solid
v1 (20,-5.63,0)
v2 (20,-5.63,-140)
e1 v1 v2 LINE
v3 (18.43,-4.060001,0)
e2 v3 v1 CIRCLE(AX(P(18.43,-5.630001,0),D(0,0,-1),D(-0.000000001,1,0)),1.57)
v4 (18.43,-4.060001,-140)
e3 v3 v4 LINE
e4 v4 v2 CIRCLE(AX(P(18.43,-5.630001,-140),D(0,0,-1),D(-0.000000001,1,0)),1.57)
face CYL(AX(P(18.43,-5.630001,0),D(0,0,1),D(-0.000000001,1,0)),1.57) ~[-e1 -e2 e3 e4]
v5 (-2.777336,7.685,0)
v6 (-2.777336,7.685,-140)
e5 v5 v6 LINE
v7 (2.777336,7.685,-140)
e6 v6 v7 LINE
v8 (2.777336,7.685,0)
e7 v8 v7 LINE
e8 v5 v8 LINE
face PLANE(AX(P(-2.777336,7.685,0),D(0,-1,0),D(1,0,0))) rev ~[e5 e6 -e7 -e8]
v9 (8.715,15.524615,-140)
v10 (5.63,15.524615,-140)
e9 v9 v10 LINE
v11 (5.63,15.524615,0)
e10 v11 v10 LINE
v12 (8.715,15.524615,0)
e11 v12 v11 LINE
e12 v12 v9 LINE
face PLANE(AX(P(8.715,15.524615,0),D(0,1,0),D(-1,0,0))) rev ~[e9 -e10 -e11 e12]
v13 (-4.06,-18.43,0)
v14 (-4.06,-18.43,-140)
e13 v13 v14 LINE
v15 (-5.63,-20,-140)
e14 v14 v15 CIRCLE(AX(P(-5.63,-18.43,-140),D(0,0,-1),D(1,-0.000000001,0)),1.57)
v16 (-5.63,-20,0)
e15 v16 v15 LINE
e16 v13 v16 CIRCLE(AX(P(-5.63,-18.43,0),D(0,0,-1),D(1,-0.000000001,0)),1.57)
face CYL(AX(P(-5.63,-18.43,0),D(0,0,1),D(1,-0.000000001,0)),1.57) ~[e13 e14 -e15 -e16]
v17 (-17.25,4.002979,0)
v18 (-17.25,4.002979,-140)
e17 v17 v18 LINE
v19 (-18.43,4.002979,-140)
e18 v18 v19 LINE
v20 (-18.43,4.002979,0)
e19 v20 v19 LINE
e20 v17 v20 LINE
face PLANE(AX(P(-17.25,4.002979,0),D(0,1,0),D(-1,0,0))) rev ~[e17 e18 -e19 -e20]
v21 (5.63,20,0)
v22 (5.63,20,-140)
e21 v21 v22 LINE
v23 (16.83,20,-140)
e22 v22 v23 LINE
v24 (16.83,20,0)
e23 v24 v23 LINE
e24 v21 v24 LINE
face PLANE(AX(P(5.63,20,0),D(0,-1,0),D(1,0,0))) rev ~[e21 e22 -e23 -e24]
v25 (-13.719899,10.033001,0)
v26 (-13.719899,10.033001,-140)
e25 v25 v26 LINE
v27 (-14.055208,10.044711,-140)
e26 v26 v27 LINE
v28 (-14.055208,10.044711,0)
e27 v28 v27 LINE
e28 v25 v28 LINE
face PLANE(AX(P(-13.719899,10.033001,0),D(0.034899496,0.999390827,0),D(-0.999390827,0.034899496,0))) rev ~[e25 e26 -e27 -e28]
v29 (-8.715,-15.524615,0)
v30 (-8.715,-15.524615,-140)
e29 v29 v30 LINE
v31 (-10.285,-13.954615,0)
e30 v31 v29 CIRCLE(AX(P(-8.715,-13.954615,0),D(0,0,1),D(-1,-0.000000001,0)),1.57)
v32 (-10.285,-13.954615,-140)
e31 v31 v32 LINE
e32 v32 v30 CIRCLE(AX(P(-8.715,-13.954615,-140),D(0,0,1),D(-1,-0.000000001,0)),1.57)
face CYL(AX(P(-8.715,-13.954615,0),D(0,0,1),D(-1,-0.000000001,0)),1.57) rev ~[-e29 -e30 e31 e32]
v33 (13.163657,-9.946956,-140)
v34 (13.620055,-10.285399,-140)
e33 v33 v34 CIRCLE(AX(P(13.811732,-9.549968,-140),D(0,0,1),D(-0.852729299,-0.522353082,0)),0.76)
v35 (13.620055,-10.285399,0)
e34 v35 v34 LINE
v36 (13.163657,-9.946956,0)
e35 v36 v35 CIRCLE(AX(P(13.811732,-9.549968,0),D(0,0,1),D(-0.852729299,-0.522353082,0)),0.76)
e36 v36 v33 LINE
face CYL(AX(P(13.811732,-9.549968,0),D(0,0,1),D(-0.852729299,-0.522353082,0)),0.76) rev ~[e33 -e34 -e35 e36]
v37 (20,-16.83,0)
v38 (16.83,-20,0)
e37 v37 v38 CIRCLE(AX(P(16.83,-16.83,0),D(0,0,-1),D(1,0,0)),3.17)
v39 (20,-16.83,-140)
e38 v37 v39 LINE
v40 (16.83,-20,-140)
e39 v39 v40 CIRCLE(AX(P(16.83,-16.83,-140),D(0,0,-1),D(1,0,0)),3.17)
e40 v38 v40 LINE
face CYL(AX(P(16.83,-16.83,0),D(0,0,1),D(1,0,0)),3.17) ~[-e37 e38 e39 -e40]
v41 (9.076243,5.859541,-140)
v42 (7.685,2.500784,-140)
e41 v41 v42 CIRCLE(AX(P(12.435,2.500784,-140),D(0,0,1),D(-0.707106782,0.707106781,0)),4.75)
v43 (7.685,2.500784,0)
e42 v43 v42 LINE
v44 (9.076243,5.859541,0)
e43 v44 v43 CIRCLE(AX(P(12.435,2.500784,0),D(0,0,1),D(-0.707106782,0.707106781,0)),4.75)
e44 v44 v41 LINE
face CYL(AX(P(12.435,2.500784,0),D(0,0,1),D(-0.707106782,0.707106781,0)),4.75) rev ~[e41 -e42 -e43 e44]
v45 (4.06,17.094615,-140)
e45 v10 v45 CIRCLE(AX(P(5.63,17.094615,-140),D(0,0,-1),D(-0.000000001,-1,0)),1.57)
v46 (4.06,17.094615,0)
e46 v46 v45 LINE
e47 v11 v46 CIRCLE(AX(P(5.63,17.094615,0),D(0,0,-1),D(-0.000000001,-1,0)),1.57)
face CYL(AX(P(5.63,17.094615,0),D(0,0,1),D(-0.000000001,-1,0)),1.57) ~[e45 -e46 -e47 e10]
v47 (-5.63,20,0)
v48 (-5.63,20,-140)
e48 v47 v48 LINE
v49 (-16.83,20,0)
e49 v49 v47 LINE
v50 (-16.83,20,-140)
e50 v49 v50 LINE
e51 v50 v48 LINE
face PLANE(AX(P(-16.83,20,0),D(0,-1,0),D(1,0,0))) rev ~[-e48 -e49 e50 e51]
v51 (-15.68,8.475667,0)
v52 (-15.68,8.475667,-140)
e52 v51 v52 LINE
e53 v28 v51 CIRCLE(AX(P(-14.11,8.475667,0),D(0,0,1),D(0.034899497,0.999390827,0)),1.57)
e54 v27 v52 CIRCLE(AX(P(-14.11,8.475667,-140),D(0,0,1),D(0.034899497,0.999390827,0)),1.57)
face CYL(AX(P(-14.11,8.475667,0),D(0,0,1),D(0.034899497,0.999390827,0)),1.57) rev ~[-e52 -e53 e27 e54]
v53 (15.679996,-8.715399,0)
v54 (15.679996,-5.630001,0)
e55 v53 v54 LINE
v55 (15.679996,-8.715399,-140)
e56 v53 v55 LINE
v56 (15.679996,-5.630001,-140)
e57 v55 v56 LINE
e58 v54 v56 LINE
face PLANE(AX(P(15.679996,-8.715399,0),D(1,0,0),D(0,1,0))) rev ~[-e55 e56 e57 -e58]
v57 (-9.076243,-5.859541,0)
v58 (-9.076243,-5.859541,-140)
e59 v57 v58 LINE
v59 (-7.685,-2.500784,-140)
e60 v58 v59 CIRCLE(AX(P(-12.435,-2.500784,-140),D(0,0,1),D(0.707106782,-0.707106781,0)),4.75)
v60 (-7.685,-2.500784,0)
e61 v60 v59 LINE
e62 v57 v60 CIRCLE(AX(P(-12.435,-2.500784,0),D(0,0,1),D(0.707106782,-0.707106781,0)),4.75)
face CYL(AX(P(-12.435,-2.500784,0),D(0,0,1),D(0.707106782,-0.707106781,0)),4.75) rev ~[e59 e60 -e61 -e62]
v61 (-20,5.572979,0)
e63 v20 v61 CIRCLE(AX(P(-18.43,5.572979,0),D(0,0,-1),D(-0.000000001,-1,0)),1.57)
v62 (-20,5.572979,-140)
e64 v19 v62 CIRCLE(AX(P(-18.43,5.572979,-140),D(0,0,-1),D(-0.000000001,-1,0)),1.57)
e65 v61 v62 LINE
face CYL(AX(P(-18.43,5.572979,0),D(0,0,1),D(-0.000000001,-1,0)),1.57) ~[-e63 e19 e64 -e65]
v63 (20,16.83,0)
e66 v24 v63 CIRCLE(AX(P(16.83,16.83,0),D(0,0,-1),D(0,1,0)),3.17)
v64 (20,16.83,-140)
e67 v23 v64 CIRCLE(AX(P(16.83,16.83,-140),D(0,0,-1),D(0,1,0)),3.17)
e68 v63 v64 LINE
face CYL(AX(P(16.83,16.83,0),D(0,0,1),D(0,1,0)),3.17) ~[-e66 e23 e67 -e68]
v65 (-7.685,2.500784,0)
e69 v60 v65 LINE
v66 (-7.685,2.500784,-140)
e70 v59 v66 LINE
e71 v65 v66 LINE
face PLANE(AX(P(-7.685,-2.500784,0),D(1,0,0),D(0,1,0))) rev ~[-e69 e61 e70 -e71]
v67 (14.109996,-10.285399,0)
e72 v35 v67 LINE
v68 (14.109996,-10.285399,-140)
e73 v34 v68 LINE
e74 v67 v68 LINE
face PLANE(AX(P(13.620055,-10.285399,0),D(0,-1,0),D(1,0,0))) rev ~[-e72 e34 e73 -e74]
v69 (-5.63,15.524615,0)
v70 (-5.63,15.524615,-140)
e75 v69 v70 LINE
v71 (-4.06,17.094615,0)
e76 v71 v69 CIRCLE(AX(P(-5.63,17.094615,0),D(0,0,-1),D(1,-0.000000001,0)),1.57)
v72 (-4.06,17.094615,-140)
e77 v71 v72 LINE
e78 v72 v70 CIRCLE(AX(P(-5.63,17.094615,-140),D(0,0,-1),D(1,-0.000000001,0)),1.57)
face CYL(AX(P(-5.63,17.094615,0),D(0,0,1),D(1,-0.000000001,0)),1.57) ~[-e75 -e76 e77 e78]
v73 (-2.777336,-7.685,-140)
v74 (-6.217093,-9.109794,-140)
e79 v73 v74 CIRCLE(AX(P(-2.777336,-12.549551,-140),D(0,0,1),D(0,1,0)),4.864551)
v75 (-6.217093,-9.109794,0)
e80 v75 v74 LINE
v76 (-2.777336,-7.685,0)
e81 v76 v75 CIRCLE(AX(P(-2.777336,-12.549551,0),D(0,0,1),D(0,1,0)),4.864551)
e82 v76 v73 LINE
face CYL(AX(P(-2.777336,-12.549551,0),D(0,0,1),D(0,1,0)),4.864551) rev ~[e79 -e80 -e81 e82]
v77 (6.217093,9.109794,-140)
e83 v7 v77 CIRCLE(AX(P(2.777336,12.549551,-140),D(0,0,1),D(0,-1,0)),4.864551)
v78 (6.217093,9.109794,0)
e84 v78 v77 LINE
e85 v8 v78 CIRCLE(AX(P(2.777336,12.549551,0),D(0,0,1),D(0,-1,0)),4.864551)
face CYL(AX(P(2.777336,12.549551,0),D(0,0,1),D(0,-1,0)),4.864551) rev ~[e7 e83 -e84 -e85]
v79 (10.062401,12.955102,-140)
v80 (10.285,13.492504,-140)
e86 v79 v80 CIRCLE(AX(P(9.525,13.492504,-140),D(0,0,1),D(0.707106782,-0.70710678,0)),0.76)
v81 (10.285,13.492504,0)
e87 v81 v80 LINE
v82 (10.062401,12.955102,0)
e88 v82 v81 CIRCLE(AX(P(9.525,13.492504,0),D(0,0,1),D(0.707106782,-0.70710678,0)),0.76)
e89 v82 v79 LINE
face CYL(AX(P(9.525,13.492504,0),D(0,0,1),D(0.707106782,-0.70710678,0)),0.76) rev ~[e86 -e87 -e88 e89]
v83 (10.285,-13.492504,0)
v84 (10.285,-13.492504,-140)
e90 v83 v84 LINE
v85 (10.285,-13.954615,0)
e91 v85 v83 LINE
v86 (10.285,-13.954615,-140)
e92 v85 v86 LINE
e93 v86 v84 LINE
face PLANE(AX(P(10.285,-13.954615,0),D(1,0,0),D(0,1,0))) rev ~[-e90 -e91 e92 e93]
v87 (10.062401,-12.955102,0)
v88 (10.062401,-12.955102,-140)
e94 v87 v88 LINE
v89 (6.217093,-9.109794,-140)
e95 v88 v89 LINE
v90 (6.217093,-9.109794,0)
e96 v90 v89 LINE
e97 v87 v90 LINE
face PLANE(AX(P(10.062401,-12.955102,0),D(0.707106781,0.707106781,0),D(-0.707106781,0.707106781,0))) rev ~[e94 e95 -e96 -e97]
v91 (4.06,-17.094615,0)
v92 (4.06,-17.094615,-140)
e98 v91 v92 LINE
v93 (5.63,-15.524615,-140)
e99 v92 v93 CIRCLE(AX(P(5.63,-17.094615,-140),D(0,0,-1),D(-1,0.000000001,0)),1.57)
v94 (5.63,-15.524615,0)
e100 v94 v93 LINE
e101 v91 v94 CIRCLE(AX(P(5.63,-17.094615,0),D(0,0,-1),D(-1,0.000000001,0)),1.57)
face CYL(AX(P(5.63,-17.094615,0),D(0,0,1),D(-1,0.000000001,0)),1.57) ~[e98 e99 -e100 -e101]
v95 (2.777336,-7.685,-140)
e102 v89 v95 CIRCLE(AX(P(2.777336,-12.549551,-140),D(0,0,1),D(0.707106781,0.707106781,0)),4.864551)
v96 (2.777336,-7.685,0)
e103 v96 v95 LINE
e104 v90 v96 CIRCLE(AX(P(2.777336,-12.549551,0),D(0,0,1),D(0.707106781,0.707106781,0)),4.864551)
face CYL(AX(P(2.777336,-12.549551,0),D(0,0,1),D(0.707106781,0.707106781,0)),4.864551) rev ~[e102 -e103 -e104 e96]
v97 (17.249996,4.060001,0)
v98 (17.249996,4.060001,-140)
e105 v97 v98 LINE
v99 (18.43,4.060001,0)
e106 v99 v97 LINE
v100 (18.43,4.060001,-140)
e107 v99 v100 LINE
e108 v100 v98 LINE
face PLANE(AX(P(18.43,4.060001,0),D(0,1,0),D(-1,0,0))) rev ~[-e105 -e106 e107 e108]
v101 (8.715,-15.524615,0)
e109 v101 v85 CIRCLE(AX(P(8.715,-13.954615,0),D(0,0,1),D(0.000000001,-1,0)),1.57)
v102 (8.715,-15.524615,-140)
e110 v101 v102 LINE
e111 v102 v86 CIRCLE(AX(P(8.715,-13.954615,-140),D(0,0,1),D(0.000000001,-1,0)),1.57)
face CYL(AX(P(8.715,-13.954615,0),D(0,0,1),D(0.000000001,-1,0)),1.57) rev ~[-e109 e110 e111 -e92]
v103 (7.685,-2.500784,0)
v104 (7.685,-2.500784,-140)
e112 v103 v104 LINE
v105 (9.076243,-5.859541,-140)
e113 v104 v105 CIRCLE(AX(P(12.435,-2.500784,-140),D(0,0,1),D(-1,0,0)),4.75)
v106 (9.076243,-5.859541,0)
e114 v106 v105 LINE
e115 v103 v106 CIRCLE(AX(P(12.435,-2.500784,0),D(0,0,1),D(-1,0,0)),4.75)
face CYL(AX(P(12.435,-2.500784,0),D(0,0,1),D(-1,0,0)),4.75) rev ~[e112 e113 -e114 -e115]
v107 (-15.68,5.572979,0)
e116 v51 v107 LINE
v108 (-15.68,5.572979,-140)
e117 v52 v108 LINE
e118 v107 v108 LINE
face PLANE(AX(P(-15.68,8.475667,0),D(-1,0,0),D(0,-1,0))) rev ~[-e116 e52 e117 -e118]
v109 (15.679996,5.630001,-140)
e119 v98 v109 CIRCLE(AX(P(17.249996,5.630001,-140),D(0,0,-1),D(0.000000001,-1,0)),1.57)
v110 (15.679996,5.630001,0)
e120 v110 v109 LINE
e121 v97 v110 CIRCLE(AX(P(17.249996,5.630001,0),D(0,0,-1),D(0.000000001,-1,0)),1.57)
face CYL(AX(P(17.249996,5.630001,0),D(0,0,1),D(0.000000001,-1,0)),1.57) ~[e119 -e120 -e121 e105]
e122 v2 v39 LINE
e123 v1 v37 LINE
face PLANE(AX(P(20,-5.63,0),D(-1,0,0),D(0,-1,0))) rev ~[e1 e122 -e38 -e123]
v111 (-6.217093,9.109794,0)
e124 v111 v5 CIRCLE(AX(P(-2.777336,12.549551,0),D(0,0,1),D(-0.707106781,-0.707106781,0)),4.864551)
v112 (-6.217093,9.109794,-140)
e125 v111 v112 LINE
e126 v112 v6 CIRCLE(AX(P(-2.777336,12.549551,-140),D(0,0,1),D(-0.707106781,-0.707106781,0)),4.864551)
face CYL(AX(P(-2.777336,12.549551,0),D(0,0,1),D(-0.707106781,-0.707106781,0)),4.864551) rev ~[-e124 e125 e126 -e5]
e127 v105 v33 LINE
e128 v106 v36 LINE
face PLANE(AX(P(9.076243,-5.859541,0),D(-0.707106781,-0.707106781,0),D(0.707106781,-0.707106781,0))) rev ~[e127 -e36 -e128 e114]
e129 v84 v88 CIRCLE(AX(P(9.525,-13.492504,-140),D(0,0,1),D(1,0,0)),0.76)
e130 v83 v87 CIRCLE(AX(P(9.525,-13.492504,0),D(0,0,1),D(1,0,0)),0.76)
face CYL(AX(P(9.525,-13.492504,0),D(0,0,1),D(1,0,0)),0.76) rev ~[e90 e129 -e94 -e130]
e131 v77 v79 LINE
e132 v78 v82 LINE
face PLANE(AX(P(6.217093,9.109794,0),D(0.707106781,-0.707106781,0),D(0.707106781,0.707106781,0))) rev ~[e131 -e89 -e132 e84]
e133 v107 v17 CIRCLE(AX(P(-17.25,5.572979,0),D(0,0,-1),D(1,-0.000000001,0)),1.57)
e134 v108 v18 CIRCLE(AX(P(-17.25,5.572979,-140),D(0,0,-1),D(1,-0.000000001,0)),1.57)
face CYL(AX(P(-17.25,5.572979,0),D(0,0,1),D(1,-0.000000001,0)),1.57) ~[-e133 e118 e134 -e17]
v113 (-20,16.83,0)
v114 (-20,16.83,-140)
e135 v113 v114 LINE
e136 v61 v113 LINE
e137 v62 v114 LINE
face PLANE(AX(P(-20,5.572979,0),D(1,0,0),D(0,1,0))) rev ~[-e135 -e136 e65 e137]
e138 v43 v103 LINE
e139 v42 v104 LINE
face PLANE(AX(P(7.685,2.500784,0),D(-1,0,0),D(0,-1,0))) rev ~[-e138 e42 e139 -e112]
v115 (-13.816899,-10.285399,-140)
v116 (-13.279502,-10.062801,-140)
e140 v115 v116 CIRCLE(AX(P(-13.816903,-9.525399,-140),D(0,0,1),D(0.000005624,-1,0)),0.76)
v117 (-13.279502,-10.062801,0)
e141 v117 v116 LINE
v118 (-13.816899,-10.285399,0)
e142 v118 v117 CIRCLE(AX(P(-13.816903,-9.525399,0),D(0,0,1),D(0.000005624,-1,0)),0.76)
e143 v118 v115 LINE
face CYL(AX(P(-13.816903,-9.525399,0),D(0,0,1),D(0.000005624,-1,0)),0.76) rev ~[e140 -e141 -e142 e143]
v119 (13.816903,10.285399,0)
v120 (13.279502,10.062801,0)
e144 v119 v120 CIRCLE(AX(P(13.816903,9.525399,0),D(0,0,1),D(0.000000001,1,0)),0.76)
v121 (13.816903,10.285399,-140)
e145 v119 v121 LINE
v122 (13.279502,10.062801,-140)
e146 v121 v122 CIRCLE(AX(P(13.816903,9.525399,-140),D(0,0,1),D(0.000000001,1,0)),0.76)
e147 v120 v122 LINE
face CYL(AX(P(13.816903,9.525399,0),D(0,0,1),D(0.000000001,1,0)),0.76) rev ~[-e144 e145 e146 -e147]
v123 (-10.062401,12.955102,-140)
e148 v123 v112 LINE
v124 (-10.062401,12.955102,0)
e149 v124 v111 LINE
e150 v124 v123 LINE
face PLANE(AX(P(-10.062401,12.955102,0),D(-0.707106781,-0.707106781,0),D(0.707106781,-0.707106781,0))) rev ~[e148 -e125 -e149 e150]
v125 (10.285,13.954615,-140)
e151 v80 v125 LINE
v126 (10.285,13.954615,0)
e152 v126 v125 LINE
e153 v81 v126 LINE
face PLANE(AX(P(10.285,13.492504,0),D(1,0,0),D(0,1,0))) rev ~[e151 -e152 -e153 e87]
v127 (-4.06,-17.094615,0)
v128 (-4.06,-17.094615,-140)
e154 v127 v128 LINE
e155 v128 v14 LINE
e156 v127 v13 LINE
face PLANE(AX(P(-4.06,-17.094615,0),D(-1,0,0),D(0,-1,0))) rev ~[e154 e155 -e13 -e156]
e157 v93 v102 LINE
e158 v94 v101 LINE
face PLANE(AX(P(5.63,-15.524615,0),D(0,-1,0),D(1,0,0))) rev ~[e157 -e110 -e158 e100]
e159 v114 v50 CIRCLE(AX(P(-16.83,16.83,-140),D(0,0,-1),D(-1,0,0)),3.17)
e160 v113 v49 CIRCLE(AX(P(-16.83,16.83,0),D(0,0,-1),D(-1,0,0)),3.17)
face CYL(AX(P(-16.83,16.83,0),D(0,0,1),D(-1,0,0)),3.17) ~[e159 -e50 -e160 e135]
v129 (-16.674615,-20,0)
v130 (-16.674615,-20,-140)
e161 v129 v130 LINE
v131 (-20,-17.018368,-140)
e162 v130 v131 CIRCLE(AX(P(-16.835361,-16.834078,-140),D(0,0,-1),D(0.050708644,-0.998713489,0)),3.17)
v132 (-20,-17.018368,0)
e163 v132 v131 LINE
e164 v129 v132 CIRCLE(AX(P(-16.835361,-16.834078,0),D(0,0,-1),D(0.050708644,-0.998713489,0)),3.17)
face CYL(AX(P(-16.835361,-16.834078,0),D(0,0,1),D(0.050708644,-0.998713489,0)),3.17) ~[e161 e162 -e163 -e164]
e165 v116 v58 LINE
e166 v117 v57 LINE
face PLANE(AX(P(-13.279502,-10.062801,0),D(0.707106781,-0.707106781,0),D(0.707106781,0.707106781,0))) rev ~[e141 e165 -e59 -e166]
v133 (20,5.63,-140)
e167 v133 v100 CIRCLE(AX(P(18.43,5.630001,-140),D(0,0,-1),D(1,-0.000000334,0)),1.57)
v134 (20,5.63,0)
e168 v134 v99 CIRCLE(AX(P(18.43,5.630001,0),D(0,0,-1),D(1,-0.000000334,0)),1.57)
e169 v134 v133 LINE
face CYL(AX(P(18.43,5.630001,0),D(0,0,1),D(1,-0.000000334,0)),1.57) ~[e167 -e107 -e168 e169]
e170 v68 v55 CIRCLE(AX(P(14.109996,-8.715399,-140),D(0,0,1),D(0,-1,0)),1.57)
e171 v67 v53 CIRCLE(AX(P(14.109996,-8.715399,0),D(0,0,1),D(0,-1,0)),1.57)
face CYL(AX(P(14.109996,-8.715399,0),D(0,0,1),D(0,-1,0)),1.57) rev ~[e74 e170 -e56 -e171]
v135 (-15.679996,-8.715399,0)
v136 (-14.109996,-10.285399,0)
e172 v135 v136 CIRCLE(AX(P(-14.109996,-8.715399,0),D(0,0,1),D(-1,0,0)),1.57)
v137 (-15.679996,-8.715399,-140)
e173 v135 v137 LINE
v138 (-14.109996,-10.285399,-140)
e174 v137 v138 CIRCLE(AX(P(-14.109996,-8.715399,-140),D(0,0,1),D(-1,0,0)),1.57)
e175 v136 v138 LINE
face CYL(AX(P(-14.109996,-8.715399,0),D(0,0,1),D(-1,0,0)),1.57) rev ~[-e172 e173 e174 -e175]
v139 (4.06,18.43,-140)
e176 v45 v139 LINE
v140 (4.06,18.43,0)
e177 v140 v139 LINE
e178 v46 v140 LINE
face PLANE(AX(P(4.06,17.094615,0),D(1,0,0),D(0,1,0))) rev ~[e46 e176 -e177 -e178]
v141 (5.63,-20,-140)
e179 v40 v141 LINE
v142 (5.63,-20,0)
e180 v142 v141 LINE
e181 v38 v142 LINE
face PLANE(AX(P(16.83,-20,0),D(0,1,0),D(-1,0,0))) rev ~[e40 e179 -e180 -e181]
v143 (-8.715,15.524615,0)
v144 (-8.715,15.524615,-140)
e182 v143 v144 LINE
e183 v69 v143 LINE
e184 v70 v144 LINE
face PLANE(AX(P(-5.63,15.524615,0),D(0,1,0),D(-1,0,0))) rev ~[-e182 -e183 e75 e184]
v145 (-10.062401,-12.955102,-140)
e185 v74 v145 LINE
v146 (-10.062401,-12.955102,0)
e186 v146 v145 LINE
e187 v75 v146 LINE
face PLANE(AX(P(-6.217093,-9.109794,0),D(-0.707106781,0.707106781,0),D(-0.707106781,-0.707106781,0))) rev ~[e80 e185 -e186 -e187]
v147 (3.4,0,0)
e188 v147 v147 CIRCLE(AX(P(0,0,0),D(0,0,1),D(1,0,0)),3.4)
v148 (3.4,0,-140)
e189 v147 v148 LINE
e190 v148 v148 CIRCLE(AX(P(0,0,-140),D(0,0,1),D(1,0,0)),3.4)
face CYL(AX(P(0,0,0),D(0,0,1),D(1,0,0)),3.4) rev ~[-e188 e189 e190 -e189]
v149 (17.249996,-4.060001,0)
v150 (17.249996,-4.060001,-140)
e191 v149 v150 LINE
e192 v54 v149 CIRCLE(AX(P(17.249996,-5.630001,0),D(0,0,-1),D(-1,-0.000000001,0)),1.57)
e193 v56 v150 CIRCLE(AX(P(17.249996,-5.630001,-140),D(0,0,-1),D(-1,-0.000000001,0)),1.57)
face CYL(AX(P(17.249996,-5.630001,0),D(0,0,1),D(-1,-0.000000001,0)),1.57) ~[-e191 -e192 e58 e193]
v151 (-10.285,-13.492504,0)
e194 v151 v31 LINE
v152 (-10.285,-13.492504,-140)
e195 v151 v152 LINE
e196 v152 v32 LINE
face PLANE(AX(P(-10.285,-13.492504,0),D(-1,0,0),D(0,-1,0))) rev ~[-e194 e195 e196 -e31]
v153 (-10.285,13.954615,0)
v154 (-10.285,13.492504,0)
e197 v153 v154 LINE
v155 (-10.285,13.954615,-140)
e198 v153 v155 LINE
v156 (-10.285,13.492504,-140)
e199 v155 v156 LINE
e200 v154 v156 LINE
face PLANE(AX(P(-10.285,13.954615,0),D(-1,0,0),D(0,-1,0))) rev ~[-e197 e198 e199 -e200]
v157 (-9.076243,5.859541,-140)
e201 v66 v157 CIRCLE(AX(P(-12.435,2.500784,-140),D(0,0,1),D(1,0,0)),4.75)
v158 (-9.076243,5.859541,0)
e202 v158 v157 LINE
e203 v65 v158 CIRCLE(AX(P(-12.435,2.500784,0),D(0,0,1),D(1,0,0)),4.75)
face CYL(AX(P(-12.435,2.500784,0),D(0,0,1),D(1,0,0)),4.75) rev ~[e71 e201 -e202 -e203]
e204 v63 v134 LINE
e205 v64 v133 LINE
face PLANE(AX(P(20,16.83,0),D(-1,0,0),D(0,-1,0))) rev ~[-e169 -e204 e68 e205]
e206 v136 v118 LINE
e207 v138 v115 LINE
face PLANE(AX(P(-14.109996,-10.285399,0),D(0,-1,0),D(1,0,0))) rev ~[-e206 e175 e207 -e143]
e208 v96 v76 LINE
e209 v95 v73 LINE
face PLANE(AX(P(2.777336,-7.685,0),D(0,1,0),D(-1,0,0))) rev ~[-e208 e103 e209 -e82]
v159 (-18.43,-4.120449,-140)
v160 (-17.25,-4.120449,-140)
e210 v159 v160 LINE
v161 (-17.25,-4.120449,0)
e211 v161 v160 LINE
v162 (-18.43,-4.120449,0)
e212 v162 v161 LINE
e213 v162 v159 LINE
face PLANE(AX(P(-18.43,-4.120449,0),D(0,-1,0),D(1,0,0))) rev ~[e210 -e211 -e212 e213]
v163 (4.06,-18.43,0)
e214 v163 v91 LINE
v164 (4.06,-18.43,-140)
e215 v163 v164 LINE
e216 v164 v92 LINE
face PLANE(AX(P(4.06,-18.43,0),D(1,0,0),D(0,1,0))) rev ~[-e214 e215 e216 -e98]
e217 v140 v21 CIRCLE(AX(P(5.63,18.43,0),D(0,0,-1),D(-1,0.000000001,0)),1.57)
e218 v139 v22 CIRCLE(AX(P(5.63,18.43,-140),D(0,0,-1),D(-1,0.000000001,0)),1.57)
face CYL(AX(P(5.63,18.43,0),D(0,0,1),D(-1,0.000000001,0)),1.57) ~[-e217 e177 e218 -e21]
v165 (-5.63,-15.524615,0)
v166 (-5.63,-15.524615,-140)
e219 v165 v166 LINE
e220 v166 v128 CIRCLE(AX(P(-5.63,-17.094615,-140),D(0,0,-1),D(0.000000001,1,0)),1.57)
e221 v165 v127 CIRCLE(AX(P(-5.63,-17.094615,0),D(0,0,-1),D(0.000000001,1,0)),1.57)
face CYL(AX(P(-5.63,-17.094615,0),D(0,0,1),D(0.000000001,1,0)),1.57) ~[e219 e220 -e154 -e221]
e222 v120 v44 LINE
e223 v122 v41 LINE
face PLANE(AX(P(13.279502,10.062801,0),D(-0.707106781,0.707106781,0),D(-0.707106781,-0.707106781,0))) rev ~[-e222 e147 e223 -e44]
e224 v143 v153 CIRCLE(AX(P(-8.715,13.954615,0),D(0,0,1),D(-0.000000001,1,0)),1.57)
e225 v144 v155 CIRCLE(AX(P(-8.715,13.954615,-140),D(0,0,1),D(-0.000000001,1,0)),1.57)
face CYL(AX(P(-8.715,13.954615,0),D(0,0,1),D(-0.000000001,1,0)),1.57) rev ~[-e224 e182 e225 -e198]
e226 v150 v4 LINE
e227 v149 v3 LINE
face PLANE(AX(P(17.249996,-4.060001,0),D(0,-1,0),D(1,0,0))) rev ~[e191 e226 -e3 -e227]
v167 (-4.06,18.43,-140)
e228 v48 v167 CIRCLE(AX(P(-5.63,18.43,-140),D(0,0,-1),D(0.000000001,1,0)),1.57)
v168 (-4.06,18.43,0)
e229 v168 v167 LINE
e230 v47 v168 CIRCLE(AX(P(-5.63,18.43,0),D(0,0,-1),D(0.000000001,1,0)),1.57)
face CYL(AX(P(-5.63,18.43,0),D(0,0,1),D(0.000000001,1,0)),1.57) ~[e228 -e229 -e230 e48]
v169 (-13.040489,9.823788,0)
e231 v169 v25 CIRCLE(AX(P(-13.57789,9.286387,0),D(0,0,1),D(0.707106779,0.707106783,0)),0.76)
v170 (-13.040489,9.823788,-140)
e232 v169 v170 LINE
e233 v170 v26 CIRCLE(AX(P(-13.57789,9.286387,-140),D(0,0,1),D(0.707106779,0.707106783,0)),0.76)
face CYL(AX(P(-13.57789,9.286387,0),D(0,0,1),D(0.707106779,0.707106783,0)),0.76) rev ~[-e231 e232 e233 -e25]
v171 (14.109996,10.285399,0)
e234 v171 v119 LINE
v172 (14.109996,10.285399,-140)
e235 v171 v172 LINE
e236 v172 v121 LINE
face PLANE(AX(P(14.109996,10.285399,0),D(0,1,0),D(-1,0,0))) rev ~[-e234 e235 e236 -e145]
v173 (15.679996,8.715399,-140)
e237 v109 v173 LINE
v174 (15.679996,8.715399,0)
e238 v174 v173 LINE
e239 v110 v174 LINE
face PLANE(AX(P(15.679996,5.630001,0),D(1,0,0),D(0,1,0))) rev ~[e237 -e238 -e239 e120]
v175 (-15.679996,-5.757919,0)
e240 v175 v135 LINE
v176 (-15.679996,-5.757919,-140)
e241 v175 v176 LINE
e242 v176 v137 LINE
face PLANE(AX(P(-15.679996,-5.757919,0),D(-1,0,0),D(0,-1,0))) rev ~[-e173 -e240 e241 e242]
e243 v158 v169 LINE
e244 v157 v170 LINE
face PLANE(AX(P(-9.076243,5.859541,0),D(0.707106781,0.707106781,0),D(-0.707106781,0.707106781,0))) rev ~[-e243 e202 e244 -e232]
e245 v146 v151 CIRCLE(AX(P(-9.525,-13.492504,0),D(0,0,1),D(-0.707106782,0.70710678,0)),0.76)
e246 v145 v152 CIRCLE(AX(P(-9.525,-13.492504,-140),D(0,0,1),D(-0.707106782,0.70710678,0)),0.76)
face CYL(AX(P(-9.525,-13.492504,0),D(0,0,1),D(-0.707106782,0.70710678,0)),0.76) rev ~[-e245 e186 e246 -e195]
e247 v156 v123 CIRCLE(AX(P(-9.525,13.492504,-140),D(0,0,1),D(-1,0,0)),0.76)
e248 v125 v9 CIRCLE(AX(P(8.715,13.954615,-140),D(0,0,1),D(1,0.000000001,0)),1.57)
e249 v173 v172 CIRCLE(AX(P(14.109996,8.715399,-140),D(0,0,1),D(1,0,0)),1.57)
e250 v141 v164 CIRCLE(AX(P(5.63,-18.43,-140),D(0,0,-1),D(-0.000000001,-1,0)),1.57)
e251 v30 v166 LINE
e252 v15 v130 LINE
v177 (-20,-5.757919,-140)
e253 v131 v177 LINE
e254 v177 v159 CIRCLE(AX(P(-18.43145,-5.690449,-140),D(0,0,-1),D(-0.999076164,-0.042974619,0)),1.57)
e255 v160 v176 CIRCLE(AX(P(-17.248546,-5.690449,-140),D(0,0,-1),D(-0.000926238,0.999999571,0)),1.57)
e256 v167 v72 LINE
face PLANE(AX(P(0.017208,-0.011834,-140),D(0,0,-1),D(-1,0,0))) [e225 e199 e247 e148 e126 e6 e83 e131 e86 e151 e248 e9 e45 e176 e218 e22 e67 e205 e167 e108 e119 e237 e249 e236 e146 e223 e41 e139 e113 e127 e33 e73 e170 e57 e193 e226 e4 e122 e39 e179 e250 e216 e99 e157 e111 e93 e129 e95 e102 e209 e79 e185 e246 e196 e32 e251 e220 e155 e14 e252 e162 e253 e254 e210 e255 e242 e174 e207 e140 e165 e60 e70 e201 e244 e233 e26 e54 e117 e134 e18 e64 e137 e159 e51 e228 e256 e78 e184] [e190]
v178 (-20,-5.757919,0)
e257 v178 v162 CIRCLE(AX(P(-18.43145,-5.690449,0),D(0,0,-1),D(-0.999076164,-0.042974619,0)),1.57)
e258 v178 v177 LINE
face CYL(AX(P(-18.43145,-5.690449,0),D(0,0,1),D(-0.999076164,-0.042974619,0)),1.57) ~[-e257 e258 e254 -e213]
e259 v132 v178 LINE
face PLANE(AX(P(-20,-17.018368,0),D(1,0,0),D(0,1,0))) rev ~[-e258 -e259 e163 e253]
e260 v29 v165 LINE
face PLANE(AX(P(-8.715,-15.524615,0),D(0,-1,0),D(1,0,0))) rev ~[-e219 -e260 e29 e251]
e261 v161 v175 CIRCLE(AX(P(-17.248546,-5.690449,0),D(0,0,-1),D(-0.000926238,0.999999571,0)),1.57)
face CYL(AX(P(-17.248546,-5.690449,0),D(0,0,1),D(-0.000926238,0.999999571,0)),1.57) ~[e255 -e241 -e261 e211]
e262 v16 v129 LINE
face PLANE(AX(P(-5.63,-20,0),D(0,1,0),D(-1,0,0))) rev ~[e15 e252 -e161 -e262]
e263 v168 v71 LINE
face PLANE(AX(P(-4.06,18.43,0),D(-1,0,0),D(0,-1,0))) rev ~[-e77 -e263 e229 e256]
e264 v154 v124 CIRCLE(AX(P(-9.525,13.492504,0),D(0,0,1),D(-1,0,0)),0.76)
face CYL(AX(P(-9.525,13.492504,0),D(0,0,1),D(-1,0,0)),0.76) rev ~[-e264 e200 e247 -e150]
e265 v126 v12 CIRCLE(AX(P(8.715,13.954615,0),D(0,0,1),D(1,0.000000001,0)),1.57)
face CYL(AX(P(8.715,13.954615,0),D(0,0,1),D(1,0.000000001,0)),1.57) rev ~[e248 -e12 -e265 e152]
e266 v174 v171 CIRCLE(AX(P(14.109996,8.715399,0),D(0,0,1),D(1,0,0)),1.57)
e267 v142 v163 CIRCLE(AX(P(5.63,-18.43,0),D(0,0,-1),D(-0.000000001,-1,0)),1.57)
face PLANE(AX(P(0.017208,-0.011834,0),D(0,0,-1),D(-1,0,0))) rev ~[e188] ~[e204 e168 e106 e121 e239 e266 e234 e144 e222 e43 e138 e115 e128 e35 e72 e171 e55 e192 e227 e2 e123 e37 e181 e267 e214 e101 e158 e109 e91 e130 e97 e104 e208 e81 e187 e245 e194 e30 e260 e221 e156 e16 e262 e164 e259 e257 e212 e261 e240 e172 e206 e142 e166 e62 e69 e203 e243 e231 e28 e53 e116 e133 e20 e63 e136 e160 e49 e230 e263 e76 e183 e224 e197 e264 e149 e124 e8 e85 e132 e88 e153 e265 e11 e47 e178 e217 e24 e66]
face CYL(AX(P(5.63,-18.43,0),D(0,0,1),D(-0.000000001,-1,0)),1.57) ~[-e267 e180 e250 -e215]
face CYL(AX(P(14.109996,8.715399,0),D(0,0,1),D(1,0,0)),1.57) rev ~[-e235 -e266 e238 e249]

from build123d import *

# Parameters (mm, degrees)
SKETCH1_R      = 3.4
EXTRUDE1_DEPTH = 140


with BuildPart() as part:
    # Sketch1 → Extrude1 (new body)
    with BuildSketch(Plane.XY):
        with BuildLine():
            Line((-8.715, -15.524615034), (-5.63, -15.524615034))
            ThreePointArc((-5.63, -15.524615034), (-4.519842354, -15.984457388), (-4.06, -17.094615034))
            Line((-4.06, -17.094615034), (-4.06, -18.43))
            ThreePointArc((-4.06, -18.43), (-4.519842354, -19.540157646), (-5.63, -20))
            Line((-5.63, -20), (-16.674615034, -20))
            ThreePointArc((-16.674615034, -20), (-18.951578385, -19.194274381), (-20, -17.018368134))
            Line((-20, -17.018368134), (-20, -5.757918808))
            ThreePointArc((-20, -5.757918808), (-19.564709668, -4.603883664), (-18.43, -4.120449326))
            Line((-18.43, -4.120449326), (-17.25, -4.120449326))
            ThreePointArc((-17.25, -4.120449326), (-16.115287682, -4.60388249), (-15.67999625, -5.757919334))
            Line((-15.67999625, -5.757919334), (-15.67999625, -8.715399492))
            ThreePointArc((-15.67999625, -8.715399492), (-15.220153896, -9.825557139), (-14.10999625, -10.285399492))
            Line((-14.10999625, -10.285399492), (-13.816898819, -10.285399492))
            ThreePointArc((-13.816898819, -10.285399492), (-13.526061711, -10.227547119), (-13.279501941, -10.062800646))
            Line((-13.279501941, -10.062800646), (-9.076242789, -5.859541495))
            ThreePointArc((-9.076242789, -5.859541495), (-8.046572221, -4.318530588), (-7.685, -2.500784284))
            Line((-7.685, -2.500784284), (-7.685, 2.500784284))
            ThreePointArc((-7.685, 2.500784284), (-8.046572221, 4.318530588), (-9.076242789, 5.859541495))
            Line((-9.076242789, 5.859541495), (-13.040489136, 9.823787841))
            ThreePointArc((-13.040489136, 9.823787841), (-13.354224618, 10.012729352), (-13.71989919, 10.033001362))
            Line((-13.71989919, 10.033001362), (-14.05520779, 10.044710596))
            ThreePointArc((-14.05520779, 10.044710596), (-15.200613642, 9.605030484), (-15.68, 8.475666998))
            Line((-15.68, 8.475666998), (-15.68, 5.572979049))
            ThreePointArc((-15.68, 5.572979049), (-16.139842354, 4.462821403), (-17.25, 4.002979049))
            Line((-17.25, 4.002979049), (-18.43, 4.002979049))
            ThreePointArc((-18.43, 4.002979049), (-19.540157646, 4.462821403), (-20, 5.572979049))
            Line((-20, 5.572979049), (-20, 13.004526564))
            Line((-20, 13.004526564), (-20, 16.83))
            ThreePointArc((-20, 16.83), (-19.071528496, 19.071528496), (-16.83, 20))
            Line((-16.83, 20), (-5.63, 20))
            ThreePointArc((-5.63, 20), (-4.519842354, 19.540157646), (-4.06, 18.43))
            Line((-4.06, 18.43), (-4.06, 17.094615034))
            ThreePointArc((-4.06, 17.094615034), (-4.519842354, 15.984457388), (-5.63, 15.524615034))
            Line((-5.63, 15.524615034), (-8.715, 15.524615034))
            ThreePointArc((-8.715, 15.524615034), (-9.825157646, 15.06477268), (-10.285, 13.954615034))
            Line((-10.285, 13.954615034), (-10.285, 13.492503602))
            ThreePointArc((-10.285, 13.492503602), (-10.227148445, 13.201664194), (-10.062401154, 12.955102448))
            Line((-10.062401154, 12.955102448), (-6.217092793, 9.109794088))
            ThreePointArc((-6.217092793, 9.109794088), (-4.63891877, 8.055291919), (-2.777335583, 7.685))
            Line((-2.777335583, 7.685), (2.777335583, 7.685))
            ThreePointArc((2.777335583, 7.685), (4.63891877, 8.055291919), (6.217092793, 9.109794088))
            Line((6.217092793, 9.109794088), (10.062401154, 12.955102448))
            ThreePointArc((10.062401154, 12.955102448), (10.227148445, 13.201664194), (10.285, 13.492503602))
            Line((10.285, 13.492503602), (10.285, 13.954615034))
            ThreePointArc((10.285, 13.954615034), (9.825157646, 15.06477268), (8.715, 15.524615034))
            Line((8.715, 15.524615034), (5.63, 15.524615034))
            ThreePointArc((5.63, 15.524615034), (4.519842354, 15.984457388), (4.06, 17.094615034))
            Line((4.06, 17.094615034), (4.06, 18.43))
            ThreePointArc((4.06, 18.43), (4.519842354, 19.540157646), (5.63, 20))
            Line((5.63, 20), (12.979635074, 20))
            Line((12.979635074, 20), (16.83, 20))
            ThreePointArc((16.83, 20), (19.071528496, 19.071528496), (20, 16.83))
            Line((20, 16.83), (20, 13.001098436))
            Line((20, 13.001098436), (20, 5.63))
            ThreePointArc((20, 5.63), (19.540157461, 4.519842693), (18.43, 4.060000526))
            Line((18.43, 4.060000526), (17.24999625, 4.060000526))
            ThreePointArc((17.24999625, 4.060000526), (16.139838603, 4.519842879), (15.67999625, 5.630000526))
            Line((15.67999625, 5.630000526), (15.67999625, 8.715399492))
            ThreePointArc((15.67999625, 8.715399492), (15.220153896, 9.825557139), (14.10999625, 10.285399492))
            Line((14.10999625, 10.285399492), (13.816903094, 10.285399492))
            ThreePointArc((13.816903094, 10.285399492), (13.526063686, 10.227547937), (13.279501941, 10.062800646))
            Line((13.279501941, 10.062800646), (9.076242789, 5.859541495))
            ThreePointArc((9.076242789, 5.859541495), (8.046572221, 4.318530588), (7.685, 2.500784284))
            Line((7.685, 2.500784284), (7.685, -2.500784284))
            ThreePointArc((7.685, -2.500784284), (8.046572221, -4.318530588), (9.076242789, -5.859541495))
            Line((9.076242789, -5.859541495), (13.163657296, -9.946956002))
            ThreePointArc((13.163657296, -9.946956002), (13.35903797, -10.160433474), (13.6200547, -10.285399492))
            Line((13.6200547, -10.285399492), (14.10999625, -10.285399492))
            ThreePointArc((14.10999625, -10.285399492), (15.220153896, -9.825557139), (15.67999625, -8.715399492))
            Line((15.67999625, -8.715399492), (15.67999625, -5.630000526))
            ThreePointArc((15.67999625, -5.630000526), (16.139838603, -4.519842879), (17.24999625, -4.060000526))
            Line((17.24999625, -4.060000526), (18.43, -4.060000526))
            ThreePointArc((18.43, -4.060000526), (19.540157461, -4.519842693), (20, -5.63))
            Line((20, -5.63), (20, -16.83))
            ThreePointArc((20, -16.83), (19.071528496, -19.071528496), (16.83, -20))
            Line((16.83, -20), (13, -20))
            Line((13, -20), (5.63, -20))
            ThreePointArc((5.63, -20), (4.519842354, -19.540157646), (4.06, -18.43))
            Line((4.06, -18.43), (4.06, -17.094615034))
            ThreePointArc((4.06, -17.094615034), (4.519842354, -15.984457388), (5.63, -15.524615034))
            Line((5.63, -15.524615034), (8.715, -15.524615034))
            ThreePointArc((8.715, -15.524615034), (9.825157646, -15.06477268), (10.285, -13.954615034))
            Line((10.285, -13.954615034), (10.285, -13.492503602))
            ThreePointArc((10.285, -13.492503602), (10.227148445, -13.201664194), (10.062401154, -12.955102448))
            Line((10.062401154, -12.955102448), (6.217092793, -9.109794088))
            ThreePointArc((6.217092793, -9.109794088), (4.63891877, -8.055291919), (2.777335583, -7.685))
            Line((2.777335583, -7.685), (-2.777335583, -7.685))
            ThreePointArc((-2.777335583, -7.685), (-4.63891877, -8.055291919), (-6.217092793, -9.109794088))
            Line((-6.217092793, -9.109794088), (-10.062401154, -12.955102448))
            ThreePointArc((-10.062401154, -12.955102448), (-10.227148445, -13.201664194), (-10.285, -13.492503602))
            Line((-10.285, -13.492503602), (-10.285, -13.954615034))
            ThreePointArc((-10.285, -13.954615034), (-9.825157646, -15.06477268), (-8.715, -15.524615034))
        make_face()
        Circle(SKETCH1_R, mode=Mode.SUBTRACT)
    extrude(amount=-EXTRUDE1_DEPTH)


solid = part.part
